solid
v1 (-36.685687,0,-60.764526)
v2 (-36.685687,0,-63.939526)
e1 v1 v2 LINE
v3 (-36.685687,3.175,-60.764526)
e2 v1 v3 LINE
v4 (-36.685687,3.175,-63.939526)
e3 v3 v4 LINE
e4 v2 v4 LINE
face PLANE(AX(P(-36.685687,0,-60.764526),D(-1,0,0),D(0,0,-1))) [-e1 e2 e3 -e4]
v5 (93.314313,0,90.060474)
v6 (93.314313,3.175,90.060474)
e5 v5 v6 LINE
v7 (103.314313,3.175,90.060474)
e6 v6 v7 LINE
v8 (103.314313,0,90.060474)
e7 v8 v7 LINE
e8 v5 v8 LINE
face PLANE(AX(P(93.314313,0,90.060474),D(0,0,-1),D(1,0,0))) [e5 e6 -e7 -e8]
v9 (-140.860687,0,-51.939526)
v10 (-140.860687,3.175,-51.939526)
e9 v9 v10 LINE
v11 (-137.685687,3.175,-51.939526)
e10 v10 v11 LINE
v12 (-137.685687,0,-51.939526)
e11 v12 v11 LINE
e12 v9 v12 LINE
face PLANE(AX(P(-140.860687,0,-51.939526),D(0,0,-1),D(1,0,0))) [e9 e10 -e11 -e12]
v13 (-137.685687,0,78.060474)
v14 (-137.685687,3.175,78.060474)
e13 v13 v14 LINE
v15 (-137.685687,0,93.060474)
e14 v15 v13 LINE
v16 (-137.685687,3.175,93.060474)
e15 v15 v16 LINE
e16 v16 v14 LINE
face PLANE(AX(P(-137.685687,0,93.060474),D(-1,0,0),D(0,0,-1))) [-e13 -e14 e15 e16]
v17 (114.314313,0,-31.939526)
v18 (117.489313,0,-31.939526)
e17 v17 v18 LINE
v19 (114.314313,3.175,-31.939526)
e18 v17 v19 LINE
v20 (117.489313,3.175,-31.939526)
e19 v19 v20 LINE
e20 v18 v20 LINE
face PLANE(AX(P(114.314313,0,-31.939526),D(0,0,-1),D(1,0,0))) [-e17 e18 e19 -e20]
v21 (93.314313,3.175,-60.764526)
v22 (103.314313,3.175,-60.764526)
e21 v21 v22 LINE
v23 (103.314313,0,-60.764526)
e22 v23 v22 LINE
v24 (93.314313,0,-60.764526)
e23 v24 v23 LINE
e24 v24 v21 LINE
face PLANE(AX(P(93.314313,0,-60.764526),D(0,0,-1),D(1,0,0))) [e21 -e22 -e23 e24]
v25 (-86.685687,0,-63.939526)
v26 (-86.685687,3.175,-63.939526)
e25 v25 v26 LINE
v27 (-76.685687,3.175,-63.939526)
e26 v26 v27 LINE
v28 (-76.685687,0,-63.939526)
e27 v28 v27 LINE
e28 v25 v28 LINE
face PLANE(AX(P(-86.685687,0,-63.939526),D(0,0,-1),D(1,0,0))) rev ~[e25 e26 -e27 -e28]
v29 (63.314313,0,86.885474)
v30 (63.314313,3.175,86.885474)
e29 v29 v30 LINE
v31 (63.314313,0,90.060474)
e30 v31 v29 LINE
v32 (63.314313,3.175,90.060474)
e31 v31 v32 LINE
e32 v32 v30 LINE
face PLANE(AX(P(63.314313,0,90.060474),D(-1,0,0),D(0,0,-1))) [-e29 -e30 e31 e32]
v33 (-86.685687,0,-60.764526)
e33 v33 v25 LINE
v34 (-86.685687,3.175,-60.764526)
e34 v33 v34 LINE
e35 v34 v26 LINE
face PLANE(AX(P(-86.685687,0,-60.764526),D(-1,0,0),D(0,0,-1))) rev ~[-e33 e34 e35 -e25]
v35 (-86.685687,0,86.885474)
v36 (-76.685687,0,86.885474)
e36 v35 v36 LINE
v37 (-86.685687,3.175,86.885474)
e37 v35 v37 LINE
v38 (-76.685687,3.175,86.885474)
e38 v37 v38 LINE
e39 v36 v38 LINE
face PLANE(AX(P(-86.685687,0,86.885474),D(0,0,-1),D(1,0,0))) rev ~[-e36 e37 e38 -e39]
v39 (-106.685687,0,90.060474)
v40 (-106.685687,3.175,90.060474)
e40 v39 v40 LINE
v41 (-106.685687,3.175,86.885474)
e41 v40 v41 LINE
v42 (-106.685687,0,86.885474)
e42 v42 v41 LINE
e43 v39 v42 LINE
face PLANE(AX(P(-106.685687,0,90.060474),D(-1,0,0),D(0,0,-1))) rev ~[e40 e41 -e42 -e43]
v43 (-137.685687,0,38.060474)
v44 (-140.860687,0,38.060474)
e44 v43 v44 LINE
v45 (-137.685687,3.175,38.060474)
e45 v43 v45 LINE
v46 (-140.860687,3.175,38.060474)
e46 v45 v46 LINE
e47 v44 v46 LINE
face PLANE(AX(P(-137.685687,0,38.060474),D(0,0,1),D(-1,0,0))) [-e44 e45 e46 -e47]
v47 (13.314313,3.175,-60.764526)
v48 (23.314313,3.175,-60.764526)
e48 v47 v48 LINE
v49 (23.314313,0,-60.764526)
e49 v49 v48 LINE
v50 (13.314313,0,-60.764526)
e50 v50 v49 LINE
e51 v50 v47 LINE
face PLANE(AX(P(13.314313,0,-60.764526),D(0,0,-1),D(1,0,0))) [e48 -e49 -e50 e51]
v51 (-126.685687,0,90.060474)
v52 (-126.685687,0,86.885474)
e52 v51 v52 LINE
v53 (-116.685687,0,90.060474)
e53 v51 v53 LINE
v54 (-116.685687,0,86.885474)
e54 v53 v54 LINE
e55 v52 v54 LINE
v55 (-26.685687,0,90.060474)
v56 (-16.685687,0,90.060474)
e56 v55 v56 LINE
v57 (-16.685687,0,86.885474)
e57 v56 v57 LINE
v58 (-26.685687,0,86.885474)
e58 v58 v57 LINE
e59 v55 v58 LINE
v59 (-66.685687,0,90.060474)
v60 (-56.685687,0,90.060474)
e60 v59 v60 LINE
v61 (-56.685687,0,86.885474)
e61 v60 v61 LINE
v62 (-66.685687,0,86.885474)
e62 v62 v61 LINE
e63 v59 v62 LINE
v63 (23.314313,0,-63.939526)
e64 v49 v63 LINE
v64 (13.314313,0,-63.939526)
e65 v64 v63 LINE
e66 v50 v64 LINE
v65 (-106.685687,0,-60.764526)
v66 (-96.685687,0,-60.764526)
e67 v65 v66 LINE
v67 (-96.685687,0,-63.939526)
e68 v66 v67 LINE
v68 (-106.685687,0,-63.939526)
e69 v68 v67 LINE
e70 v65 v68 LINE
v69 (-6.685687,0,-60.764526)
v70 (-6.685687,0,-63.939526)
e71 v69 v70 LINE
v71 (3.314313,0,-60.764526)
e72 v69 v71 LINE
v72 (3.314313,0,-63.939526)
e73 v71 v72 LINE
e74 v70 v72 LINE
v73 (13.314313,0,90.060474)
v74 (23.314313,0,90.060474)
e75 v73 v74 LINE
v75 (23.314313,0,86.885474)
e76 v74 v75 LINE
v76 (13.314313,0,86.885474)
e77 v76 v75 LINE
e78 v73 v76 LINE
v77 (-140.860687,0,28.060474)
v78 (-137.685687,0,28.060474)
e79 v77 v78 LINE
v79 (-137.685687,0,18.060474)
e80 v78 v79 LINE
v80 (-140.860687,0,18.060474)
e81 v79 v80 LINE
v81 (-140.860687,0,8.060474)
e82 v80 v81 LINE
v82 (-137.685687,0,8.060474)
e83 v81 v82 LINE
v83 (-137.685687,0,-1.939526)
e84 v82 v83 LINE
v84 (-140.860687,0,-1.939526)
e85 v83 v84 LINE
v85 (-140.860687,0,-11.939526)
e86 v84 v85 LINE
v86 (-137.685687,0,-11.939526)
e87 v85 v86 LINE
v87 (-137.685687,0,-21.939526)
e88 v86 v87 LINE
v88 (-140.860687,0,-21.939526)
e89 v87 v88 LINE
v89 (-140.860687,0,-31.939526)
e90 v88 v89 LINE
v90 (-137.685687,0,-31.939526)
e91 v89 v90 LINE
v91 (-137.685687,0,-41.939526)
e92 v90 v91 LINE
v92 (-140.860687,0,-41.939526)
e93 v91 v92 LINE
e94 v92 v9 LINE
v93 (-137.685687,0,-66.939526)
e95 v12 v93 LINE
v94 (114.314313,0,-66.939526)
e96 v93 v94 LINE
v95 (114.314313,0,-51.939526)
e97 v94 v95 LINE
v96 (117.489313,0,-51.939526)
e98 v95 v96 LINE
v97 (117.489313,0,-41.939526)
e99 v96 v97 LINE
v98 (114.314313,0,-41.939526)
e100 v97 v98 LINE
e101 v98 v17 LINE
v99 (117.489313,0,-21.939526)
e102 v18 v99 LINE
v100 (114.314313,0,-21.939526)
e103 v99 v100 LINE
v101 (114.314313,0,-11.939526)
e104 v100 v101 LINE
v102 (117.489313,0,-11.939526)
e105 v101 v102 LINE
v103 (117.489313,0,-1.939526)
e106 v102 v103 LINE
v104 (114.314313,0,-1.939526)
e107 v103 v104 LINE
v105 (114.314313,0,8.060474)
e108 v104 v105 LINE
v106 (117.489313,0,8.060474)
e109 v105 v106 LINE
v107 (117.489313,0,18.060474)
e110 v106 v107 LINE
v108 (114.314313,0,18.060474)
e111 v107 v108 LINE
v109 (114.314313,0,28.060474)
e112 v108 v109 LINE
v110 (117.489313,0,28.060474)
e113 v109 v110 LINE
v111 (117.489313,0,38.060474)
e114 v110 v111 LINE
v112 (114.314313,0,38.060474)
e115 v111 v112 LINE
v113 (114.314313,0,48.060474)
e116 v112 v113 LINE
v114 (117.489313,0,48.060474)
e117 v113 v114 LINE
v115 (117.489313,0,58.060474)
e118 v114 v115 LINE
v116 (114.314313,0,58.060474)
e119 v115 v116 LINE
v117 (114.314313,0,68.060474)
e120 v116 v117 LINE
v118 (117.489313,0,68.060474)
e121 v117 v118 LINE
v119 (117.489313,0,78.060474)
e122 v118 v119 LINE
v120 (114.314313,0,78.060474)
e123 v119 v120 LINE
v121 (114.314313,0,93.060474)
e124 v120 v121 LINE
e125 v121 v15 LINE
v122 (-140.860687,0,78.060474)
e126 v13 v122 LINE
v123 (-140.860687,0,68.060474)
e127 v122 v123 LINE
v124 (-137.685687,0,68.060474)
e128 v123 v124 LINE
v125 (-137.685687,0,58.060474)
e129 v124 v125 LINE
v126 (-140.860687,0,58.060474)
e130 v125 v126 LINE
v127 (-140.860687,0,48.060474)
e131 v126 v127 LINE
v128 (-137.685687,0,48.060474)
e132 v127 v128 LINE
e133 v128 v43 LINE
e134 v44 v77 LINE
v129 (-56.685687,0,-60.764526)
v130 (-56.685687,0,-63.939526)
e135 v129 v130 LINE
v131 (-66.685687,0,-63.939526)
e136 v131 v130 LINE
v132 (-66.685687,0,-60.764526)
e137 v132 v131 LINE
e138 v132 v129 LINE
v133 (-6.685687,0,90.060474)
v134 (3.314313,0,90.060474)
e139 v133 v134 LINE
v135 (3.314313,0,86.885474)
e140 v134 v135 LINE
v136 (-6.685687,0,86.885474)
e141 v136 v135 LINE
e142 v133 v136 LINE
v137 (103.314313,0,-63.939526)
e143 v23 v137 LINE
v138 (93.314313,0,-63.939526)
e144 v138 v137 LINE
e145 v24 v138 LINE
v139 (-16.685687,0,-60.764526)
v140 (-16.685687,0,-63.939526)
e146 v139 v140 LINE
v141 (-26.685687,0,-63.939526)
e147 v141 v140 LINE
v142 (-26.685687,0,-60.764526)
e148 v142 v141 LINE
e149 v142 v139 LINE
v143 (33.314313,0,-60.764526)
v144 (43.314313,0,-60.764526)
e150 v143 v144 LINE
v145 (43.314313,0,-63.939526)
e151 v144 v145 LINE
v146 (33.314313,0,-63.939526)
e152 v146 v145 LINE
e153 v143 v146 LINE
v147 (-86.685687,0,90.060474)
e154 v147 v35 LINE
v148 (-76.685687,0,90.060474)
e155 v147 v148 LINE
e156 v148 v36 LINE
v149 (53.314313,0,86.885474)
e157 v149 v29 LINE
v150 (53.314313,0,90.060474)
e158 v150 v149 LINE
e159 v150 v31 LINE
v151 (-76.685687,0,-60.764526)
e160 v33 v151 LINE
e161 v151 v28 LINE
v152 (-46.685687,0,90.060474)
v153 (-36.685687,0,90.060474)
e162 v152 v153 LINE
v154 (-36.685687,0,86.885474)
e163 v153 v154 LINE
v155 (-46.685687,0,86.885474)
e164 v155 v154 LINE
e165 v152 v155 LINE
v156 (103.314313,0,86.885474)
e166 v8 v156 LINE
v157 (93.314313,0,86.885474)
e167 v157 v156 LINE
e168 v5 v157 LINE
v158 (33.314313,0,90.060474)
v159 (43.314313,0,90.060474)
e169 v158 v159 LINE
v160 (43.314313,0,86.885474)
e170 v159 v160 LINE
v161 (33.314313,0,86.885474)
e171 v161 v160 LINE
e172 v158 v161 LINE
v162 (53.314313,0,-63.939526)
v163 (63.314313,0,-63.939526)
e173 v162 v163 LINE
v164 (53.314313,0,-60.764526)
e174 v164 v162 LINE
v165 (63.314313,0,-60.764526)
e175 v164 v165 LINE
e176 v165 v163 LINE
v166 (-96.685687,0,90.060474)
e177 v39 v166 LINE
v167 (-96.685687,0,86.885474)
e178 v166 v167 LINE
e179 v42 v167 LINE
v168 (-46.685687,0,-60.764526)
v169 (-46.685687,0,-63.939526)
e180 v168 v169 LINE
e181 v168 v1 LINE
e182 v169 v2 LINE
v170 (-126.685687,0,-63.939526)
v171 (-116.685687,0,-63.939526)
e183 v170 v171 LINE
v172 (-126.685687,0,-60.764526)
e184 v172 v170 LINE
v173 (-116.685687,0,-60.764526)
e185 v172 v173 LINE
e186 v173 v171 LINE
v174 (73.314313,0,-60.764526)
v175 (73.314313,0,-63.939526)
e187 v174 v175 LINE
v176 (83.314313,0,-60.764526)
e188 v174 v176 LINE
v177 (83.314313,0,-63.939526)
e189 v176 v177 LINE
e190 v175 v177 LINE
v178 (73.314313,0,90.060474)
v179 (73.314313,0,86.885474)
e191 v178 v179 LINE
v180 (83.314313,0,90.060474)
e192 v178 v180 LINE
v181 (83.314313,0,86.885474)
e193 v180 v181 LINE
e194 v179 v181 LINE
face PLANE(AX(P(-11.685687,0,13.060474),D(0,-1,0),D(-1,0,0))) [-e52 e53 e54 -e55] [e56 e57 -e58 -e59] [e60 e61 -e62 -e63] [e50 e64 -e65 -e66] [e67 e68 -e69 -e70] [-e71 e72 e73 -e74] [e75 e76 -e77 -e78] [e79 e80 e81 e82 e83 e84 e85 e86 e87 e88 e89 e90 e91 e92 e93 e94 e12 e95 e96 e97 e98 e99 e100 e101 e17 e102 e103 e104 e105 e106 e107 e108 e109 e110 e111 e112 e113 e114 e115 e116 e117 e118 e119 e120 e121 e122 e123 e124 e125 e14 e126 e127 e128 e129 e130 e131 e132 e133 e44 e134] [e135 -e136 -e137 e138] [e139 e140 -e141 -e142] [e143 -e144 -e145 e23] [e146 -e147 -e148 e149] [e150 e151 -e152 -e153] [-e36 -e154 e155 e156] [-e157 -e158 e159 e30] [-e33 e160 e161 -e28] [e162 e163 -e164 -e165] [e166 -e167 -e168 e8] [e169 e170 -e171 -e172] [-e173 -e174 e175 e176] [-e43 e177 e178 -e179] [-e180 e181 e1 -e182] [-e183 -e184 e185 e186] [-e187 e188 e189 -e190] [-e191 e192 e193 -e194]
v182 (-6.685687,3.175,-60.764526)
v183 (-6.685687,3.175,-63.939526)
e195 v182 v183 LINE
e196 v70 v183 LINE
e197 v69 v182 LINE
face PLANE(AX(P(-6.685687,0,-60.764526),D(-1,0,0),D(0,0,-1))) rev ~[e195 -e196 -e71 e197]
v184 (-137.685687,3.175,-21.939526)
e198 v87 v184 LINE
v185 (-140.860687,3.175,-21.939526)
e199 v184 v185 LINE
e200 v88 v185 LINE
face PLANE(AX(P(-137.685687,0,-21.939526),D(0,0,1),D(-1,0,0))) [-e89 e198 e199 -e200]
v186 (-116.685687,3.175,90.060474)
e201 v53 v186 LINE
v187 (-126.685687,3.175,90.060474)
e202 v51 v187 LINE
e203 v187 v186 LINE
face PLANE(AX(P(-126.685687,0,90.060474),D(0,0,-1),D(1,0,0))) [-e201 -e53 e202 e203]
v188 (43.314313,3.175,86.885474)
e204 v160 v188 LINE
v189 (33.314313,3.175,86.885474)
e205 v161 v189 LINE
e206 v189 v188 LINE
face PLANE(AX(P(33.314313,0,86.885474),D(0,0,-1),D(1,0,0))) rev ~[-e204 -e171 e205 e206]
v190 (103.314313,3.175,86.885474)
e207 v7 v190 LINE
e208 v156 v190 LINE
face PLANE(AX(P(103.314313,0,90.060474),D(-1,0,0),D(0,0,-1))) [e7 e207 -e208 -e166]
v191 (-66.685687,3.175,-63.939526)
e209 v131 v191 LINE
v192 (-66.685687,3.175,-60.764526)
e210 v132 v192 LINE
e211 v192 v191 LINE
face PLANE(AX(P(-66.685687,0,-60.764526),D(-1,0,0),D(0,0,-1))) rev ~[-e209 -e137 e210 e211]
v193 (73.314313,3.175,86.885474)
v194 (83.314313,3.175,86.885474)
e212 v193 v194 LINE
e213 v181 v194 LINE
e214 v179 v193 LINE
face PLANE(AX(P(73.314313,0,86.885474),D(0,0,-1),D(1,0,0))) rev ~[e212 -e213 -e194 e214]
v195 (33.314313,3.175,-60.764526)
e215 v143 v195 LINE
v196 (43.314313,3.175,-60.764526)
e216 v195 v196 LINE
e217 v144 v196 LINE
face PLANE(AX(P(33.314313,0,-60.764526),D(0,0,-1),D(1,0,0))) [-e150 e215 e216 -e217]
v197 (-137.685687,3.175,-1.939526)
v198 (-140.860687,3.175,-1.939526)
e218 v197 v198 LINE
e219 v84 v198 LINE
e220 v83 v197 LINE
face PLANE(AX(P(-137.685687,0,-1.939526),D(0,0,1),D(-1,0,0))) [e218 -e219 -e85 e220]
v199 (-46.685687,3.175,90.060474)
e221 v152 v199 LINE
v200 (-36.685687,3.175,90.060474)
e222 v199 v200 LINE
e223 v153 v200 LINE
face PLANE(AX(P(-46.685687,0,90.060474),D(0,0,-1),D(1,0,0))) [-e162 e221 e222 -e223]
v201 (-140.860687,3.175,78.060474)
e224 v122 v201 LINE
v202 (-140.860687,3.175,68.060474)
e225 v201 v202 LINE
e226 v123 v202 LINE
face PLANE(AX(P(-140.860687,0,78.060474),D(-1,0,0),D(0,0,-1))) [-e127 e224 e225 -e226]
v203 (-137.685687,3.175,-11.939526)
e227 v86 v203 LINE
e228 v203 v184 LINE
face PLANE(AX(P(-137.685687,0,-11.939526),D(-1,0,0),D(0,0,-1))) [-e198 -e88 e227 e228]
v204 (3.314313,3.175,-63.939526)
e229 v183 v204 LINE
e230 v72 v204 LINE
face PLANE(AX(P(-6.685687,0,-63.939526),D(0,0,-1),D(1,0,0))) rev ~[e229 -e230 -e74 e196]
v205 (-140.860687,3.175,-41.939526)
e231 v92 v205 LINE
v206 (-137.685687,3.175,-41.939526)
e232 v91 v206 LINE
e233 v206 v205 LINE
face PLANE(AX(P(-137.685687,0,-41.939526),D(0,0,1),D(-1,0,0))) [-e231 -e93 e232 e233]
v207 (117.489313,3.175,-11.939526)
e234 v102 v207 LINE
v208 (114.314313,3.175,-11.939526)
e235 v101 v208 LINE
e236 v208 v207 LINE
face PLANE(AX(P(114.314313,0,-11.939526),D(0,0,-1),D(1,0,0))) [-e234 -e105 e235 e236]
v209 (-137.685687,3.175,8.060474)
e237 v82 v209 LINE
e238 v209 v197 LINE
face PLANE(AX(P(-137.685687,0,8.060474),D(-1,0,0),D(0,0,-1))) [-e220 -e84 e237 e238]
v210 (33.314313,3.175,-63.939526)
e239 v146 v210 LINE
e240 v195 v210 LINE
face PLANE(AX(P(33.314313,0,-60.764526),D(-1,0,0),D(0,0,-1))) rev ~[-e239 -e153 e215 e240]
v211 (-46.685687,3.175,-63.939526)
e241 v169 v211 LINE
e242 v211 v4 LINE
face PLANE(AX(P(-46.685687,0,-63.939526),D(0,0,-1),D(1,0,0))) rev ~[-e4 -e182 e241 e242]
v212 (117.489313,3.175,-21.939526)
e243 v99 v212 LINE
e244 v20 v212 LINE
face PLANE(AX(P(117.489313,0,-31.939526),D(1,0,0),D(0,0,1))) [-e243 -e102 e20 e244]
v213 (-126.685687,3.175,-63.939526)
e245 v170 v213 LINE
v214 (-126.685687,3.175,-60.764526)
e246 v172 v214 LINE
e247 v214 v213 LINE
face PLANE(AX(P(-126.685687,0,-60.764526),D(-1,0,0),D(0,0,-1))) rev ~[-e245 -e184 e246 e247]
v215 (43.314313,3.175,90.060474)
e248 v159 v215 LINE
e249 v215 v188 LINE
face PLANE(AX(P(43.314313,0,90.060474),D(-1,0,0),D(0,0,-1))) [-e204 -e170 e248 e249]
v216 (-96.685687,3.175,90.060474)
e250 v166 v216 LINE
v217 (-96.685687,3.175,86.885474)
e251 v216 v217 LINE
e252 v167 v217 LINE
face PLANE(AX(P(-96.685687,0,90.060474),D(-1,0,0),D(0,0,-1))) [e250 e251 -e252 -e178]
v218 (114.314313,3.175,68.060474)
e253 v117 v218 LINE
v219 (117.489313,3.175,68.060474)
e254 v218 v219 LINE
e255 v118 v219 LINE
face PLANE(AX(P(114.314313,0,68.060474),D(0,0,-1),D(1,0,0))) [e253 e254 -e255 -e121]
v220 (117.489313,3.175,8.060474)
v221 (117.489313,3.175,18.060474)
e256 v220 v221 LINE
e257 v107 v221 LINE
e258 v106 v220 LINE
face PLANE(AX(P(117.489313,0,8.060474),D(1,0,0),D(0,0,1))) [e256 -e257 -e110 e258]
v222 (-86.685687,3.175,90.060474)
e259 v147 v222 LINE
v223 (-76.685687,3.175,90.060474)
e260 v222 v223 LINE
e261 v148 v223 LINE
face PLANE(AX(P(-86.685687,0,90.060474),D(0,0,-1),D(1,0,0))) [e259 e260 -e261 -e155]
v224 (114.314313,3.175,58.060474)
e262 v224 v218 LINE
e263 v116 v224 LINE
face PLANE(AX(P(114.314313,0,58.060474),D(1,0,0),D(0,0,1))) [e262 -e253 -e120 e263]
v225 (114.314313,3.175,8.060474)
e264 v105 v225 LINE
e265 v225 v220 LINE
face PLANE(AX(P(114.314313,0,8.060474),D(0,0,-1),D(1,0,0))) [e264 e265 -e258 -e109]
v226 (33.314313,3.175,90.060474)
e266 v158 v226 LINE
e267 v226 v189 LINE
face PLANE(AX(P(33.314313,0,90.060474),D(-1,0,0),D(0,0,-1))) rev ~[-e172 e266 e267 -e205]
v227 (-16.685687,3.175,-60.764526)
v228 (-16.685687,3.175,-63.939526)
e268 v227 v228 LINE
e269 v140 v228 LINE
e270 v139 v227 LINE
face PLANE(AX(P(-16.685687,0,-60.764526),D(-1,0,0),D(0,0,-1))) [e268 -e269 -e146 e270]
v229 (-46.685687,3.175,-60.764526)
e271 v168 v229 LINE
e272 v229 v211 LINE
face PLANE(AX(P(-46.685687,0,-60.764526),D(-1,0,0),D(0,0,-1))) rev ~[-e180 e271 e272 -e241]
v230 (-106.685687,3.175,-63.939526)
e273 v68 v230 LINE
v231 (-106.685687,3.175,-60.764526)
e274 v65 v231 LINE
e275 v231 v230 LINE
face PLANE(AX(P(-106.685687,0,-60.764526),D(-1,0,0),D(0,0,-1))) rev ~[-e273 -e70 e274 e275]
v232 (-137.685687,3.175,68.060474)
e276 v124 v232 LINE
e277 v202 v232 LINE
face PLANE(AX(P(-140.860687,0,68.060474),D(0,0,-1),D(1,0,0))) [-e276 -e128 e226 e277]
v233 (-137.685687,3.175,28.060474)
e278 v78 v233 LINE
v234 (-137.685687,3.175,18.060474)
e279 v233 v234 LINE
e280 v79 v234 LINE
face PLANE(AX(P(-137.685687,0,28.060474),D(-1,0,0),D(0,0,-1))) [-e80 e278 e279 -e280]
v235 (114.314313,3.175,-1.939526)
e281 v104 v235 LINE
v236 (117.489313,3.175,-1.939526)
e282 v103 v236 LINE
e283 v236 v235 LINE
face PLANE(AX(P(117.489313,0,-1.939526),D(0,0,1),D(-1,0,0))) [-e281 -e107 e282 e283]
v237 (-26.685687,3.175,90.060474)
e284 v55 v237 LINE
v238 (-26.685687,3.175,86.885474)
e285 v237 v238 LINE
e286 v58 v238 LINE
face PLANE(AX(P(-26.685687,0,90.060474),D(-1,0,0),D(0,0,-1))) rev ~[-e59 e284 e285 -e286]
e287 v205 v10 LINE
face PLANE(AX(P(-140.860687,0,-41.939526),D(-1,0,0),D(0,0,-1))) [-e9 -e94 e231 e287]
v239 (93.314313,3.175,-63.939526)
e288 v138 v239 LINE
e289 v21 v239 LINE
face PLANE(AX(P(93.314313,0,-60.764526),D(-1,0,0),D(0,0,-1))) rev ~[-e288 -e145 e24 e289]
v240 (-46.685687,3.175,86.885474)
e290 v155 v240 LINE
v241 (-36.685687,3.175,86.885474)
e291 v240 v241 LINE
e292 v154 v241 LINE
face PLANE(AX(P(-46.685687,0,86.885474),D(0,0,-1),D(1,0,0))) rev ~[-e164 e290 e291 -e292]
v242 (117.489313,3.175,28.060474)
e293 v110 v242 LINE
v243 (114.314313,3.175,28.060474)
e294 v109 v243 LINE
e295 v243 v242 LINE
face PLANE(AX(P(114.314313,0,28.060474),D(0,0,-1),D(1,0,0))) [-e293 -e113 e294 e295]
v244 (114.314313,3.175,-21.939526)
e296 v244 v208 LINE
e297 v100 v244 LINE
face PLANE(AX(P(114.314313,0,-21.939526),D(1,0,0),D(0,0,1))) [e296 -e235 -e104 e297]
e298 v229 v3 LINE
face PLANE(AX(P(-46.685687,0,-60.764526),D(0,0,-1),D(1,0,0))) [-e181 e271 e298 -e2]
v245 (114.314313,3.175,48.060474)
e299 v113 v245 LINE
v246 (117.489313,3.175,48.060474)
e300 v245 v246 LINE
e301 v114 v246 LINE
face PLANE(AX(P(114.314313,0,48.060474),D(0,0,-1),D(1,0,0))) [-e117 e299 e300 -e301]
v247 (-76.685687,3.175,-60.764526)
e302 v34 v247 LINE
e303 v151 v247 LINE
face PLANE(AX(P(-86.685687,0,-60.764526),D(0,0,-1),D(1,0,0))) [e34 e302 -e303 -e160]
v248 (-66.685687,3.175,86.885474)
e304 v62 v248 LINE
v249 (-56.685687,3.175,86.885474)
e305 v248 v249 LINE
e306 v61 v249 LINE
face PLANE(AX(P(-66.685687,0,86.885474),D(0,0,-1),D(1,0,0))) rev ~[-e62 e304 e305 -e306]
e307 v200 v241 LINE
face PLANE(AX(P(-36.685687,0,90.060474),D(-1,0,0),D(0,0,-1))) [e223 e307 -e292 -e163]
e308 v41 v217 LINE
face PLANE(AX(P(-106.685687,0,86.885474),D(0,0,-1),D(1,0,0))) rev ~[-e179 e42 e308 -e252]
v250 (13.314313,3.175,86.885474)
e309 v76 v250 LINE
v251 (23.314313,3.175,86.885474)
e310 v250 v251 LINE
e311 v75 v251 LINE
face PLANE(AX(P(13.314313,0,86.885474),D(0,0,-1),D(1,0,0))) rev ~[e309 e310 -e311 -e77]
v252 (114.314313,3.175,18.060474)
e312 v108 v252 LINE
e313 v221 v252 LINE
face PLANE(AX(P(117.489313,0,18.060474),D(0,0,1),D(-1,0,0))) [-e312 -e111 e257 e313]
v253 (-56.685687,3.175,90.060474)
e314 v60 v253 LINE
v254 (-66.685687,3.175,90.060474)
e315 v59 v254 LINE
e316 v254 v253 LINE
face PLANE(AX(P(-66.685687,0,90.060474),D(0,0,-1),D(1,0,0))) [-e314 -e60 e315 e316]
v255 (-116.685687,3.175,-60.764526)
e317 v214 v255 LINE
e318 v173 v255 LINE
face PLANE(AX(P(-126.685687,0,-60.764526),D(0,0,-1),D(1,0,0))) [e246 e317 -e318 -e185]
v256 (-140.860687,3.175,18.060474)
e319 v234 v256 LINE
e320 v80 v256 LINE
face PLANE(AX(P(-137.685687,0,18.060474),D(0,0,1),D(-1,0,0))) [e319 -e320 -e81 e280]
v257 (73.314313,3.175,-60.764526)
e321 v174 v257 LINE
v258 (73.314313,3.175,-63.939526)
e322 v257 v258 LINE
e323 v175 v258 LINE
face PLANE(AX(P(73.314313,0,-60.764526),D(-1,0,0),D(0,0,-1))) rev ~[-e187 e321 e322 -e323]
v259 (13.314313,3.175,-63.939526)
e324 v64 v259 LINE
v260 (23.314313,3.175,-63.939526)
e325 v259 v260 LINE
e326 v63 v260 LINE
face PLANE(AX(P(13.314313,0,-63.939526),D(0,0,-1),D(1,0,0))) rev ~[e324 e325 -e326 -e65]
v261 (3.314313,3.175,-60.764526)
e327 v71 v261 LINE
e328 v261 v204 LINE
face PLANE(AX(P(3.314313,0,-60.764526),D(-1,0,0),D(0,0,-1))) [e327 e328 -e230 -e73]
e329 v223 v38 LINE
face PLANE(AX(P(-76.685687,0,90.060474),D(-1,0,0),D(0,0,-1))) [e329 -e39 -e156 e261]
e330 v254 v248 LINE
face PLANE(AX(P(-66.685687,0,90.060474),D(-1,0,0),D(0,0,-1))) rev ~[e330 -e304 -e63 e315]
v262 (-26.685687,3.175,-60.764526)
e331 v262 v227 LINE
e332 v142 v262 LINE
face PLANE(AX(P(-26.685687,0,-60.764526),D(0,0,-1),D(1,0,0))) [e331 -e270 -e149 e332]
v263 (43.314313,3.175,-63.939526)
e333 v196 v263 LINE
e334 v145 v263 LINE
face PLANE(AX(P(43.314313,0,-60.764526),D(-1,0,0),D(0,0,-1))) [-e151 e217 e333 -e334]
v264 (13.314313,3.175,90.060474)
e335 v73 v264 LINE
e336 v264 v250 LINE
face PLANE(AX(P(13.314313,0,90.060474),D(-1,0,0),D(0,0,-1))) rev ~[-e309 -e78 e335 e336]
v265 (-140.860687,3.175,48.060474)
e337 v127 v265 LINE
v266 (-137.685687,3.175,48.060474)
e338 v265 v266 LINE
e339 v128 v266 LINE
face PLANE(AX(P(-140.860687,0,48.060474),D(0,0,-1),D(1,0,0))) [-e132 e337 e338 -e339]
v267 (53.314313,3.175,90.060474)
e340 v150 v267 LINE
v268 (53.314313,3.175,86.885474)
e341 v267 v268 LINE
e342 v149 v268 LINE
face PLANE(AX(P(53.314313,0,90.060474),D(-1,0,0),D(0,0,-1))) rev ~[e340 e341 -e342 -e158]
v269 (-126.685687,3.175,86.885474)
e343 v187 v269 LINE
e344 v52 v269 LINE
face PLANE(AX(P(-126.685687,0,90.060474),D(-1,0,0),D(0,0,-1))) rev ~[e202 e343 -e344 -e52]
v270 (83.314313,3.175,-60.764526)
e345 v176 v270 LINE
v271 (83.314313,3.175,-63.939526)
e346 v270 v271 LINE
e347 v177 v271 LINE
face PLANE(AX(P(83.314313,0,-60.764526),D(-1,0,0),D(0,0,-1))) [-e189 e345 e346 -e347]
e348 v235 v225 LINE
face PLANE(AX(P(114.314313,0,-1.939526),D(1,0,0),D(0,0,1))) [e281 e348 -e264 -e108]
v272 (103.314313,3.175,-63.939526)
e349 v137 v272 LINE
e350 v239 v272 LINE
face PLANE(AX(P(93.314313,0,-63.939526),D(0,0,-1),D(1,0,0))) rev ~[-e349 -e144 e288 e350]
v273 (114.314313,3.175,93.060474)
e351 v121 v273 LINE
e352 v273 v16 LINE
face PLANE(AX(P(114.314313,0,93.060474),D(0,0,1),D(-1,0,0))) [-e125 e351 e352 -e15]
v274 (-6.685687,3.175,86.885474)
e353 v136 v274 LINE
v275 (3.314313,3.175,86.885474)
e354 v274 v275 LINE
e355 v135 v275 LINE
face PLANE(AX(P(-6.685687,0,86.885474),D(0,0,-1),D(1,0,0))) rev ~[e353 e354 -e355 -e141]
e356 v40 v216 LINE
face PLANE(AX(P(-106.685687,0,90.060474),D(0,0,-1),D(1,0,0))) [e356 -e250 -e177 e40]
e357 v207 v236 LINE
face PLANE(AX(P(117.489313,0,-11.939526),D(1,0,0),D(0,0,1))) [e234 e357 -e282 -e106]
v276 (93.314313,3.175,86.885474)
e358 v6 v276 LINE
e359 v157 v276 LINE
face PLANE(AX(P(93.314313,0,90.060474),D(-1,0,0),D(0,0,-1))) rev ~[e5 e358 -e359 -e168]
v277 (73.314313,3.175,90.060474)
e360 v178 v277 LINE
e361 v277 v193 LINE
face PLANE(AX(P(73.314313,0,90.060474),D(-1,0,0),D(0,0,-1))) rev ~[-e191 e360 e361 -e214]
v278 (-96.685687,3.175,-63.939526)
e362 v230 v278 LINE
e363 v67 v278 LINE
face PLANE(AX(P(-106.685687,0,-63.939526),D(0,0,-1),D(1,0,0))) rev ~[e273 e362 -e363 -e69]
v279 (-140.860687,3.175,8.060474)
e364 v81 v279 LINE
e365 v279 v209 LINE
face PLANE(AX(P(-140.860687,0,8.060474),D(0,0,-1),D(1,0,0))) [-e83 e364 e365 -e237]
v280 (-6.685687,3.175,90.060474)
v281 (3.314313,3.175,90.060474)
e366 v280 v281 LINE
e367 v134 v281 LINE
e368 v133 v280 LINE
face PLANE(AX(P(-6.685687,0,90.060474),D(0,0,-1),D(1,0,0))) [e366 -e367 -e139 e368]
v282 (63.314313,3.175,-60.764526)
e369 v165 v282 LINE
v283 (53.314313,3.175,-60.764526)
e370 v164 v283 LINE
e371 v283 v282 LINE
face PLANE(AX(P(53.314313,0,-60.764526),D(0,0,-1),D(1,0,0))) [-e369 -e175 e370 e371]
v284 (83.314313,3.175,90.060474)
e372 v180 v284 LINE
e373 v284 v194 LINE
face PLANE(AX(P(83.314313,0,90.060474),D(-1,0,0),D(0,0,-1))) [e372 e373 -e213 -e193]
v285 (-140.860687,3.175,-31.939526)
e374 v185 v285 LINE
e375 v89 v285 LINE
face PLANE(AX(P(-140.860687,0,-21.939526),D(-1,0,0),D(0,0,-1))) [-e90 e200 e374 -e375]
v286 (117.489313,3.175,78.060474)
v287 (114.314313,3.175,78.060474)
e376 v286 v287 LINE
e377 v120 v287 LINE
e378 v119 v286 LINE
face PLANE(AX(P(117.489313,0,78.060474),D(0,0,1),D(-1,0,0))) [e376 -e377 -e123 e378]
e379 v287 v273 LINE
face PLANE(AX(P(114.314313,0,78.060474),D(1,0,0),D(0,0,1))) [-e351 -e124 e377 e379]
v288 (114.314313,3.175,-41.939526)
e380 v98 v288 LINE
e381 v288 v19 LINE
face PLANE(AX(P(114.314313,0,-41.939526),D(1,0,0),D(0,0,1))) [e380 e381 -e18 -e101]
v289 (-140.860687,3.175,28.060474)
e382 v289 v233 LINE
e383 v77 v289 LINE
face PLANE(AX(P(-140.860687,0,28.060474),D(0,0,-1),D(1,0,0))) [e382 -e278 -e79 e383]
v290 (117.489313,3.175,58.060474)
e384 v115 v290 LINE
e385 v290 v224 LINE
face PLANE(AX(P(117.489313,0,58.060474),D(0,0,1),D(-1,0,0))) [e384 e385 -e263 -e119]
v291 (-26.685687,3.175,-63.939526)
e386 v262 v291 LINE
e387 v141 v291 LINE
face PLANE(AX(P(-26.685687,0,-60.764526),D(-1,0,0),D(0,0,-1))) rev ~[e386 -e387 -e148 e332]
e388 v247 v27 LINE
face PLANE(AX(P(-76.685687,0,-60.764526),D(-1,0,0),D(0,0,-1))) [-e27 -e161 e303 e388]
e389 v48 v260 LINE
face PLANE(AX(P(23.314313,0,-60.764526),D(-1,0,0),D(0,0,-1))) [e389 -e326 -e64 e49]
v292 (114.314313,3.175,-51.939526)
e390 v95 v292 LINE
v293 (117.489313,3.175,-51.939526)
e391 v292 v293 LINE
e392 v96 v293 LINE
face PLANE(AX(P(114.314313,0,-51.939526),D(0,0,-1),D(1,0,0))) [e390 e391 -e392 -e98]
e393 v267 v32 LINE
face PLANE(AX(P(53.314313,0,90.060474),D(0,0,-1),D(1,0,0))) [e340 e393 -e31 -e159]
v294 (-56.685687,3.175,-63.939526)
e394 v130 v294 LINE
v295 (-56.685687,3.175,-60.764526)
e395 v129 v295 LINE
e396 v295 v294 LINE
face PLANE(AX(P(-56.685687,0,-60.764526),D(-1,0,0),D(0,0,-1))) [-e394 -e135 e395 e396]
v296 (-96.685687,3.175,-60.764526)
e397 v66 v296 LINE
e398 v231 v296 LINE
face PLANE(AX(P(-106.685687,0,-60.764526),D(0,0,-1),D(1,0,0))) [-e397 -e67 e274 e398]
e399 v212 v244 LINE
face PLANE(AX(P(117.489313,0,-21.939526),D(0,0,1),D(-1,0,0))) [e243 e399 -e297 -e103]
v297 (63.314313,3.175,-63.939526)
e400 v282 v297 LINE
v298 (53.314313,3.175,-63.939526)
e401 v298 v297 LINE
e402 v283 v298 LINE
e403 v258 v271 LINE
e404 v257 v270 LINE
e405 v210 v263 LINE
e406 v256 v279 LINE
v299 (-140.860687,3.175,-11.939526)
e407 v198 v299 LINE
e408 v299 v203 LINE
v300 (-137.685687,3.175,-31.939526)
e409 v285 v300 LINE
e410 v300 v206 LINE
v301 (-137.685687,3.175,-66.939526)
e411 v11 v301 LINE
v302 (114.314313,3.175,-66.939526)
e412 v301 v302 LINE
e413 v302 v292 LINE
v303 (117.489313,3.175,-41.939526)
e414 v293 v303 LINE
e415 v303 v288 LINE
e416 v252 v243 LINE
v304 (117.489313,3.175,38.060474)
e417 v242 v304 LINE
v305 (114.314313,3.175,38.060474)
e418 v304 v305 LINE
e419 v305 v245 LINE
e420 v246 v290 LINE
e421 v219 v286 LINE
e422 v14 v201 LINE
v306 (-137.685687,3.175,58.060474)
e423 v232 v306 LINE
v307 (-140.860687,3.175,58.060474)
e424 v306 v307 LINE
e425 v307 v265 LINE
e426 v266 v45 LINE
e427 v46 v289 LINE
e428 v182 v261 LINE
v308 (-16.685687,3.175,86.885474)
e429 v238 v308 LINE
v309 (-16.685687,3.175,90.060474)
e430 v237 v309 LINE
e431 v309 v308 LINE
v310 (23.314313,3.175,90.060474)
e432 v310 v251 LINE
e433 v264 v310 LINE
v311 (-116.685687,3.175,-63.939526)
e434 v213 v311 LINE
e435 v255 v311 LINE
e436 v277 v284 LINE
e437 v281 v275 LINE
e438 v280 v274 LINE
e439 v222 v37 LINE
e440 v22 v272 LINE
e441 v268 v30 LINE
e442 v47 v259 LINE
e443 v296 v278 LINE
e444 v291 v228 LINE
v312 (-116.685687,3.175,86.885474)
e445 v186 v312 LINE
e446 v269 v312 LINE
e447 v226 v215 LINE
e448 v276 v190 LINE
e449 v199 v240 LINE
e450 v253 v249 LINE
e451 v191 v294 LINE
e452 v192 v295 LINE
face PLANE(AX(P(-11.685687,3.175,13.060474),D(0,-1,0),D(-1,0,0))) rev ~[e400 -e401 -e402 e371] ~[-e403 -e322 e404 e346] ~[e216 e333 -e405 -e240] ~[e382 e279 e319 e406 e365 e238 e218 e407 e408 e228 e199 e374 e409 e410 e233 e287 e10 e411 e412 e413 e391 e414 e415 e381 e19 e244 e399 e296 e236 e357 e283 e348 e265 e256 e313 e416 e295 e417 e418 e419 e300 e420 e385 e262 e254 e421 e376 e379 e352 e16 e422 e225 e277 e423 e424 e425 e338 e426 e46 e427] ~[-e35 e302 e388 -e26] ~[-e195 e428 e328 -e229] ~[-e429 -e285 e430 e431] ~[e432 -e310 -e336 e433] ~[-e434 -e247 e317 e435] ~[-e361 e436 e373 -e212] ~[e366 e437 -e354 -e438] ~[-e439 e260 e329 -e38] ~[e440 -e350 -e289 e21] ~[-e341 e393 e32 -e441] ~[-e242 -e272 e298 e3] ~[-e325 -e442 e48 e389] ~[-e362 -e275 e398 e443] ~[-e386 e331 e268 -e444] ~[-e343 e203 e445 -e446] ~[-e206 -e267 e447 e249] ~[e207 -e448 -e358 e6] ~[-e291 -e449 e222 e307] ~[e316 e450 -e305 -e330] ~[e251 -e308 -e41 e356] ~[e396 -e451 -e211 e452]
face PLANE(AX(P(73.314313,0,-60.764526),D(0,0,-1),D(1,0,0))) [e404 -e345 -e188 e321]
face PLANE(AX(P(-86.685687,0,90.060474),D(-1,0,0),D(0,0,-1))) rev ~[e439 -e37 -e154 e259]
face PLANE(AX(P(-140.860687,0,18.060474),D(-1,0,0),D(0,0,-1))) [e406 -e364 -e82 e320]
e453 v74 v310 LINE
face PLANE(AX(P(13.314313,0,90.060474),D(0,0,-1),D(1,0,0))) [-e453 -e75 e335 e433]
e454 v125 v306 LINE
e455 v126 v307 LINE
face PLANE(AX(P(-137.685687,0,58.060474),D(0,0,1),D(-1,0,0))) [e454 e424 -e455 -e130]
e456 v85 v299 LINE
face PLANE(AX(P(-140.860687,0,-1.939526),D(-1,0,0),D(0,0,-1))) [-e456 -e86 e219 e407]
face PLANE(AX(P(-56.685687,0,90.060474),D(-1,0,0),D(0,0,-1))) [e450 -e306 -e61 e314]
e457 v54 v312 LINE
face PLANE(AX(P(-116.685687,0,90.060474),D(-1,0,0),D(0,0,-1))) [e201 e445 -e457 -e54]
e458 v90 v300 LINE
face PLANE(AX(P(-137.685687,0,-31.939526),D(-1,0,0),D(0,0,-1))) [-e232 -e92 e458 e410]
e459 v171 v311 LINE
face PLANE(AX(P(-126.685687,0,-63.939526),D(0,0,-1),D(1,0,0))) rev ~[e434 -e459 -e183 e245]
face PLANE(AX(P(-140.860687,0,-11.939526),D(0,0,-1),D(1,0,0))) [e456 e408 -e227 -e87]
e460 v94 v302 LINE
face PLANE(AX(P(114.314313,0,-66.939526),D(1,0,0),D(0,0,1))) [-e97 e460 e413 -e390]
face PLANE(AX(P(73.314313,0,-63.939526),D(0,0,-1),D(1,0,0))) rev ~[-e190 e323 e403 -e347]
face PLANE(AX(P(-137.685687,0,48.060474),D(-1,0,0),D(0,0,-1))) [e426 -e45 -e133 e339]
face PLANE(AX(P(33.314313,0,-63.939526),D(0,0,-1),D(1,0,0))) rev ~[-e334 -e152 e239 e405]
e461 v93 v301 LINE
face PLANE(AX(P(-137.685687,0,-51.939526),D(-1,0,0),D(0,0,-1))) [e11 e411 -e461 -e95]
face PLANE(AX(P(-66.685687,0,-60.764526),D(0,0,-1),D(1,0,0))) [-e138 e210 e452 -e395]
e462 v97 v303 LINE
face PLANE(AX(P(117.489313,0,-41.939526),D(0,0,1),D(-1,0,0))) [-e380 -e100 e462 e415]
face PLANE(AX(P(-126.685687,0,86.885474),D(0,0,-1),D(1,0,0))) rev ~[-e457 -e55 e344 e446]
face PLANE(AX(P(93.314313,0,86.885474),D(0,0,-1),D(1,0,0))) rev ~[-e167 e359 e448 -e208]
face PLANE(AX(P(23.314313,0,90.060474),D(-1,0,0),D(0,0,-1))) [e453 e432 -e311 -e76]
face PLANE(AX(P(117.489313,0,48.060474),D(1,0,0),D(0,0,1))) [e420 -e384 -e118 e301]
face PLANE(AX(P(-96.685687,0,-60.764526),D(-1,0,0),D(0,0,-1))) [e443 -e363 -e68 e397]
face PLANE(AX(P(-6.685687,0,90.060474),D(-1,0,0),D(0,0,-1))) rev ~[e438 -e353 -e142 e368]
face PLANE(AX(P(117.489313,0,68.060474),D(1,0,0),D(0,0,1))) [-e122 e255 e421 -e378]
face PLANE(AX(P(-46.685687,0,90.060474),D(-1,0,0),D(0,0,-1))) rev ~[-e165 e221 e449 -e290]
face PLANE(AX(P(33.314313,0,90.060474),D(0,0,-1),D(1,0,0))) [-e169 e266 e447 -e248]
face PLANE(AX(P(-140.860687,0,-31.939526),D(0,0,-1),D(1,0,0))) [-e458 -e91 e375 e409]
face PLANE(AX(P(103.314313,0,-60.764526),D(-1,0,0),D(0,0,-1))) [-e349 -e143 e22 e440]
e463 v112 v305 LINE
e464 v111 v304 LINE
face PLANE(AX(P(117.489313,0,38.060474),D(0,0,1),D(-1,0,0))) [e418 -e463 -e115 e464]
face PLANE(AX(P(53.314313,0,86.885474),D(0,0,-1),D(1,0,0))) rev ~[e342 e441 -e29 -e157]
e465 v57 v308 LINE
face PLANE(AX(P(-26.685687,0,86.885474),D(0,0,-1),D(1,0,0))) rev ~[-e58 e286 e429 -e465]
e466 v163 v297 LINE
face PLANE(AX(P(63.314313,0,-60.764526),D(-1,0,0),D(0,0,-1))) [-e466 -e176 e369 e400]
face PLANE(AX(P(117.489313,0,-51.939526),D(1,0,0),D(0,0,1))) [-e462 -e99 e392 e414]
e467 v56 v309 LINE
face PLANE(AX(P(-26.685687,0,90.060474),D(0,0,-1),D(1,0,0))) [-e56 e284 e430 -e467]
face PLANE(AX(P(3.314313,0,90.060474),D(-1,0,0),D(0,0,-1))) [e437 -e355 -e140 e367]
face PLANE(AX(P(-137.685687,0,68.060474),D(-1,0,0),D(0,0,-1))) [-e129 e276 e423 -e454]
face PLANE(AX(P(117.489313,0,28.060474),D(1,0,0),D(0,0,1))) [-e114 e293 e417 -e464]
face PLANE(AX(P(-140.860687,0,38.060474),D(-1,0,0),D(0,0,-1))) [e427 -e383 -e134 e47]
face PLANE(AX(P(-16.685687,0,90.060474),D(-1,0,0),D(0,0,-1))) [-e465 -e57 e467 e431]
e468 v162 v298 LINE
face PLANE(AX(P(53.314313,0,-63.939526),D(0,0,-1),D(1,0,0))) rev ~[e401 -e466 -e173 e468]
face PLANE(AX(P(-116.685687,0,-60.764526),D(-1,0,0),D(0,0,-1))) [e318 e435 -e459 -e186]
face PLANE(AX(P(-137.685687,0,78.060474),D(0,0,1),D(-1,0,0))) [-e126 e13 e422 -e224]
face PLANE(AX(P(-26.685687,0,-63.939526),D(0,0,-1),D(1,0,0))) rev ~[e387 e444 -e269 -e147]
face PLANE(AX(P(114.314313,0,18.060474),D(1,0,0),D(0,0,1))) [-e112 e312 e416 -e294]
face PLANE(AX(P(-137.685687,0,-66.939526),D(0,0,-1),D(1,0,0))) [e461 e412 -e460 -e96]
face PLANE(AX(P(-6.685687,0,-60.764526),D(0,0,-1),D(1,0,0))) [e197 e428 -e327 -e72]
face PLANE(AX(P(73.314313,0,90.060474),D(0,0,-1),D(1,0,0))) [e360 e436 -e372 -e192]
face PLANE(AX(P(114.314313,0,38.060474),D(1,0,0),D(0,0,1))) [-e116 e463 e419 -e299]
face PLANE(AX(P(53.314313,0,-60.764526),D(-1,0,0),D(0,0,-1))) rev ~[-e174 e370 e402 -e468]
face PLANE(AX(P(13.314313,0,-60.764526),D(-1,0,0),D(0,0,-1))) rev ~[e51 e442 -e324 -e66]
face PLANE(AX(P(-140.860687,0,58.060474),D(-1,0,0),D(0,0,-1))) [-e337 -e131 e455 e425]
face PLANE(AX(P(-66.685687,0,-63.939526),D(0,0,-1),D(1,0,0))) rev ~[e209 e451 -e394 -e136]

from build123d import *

# Parameters (mm, degrees)
SKETCH2_W           = 10
SKETCH2_H           = 3.175
BOSS_EXTRUDE1_DEPTH = 3.175


with BuildPart() as part:
    # Sketch2 → Boss-Extrude1 (new body)
    with BuildSketch(Plane(origin=(0, 0, 0), x_dir=(1, 0, 0), z_dir=(0, 1, 0))):
        Polygon((-137.685687371, 51.939525879), (-137.685687371, 66.939525879), (114.314312629, 66.939525879), (114.314312629, 51.939525879), (117.489312629, 51.939525879), (117.489312629, 41.939525879), (114.314312629, 41.939525879), (114.314312629, 31.939525879), (117.489312629, 31.939525879), (117.489312629, 21.939525879), (114.314312629, 21.939525879), (114.314312629, 11.939525879), (117.489312629, 11.939525879), (117.489312629, 1.939525879), (114.314312629, 1.939525879), (114.314312629, -8.060474121), (117.489312629, -8.060474121), (117.489312629, -18.060474121), (114.314312629, -18.060474121), (114.314312629, -28.060474121), (117.489312629, -28.060474121), (117.489312629, -38.060474121), (114.314312629, -38.060474121), (114.314312629, -48.060474121), (117.489312629, -48.060474121), (117.489312629, -58.060474121), (114.314312629, -58.060474121), (114.314312629, -68.060474121), (117.489312629, -68.060474121), (117.489312629, -78.060474121), (114.314312629, -78.060474121), (114.314312629, -93.060474121), (-137.685687371, -93.060474121), (-137.685687371, -78.060474121), (-140.860687371, -78.060474121), (-140.860687371, -68.060474121), (-137.685687371, -68.060474121), (-137.685687371, -58.060474121), (-140.860687371, -58.060474121), (-140.860687371, -48.060474121), (-137.685687371, -48.060474121), (-137.685687371, -38.060474121), (-140.860687371, -38.060474121), (-140.860687371, -28.060474121), (-137.685687371, -28.060474121), (-137.685687371, -18.060474121), (-140.860687371, -18.060474121), (-140.860687371, -8.060474121), (-137.685687371, -8.060474121), (-137.685687371, 1.939525879), (-140.860687371, 1.939525879), (-140.860687371, 11.939525879), (-137.685687371, 11.939525879), (-137.685687371, 21.939525879), (-140.860687371, 21.939525879), (-140.860687371, 31.939525879), (-137.685687371, 31.939525879), (-137.685687371, 41.939525879), (-140.860687371, 41.939525879), (-140.860687371, 51.939525879), align=None)
        with Locations((-101.685687371, 62.352025879)):
            Rectangle(SKETCH2_W, SKETCH2_H, mode=Mode.SUBTRACT)
        with Locations((-121.685687371, 62.352025879)):
            Rectangle(SKETCH2_W, SKETCH2_H, mode=Mode.SUBTRACT)
        with Locations((-81.685687371, 62.352025879)):
            Rectangle(SKETCH2_W, SKETCH2_H, mode=Mode.SUBTRACT)
        with Locations((-61.685687371, 62.352025879)):
            Rectangle(SKETCH2_W, SKETCH2_H, mode=Mode.SUBTRACT)
        with Locations((-41.685687371, 62.352025879)):
            Rectangle(SKETCH2_W, SKETCH2_H, mode=Mode.SUBTRACT)
        with Locations((-21.685687371, 62.352025879)):
            Rectangle(SKETCH2_W, SKETCH2_H, mode=Mode.SUBTRACT)
        with Locations((-1.685687371, 62.352025879)):
            Rectangle(SKETCH2_W, SKETCH2_H, mode=Mode.SUBTRACT)
        with Locations((18.314312629, 62.352025879)):
            Rectangle(SKETCH2_W, SKETCH2_H, mode=Mode.SUBTRACT)
        with Locations((38.314312629, 62.352025879)):
            Rectangle(SKETCH2_W, SKETCH2_H, mode=Mode.SUBTRACT)
        with Locations((58.314312629, 62.352025879)):
            Rectangle(SKETCH2_W, SKETCH2_H, mode=Mode.SUBTRACT)
        with Locations((78.314312629, 62.352025879)):
            Rectangle(SKETCH2_W, SKETCH2_H, mode=Mode.SUBTRACT)
        with Locations((98.314312629, 62.352025879)):
            Rectangle(SKETCH2_W, SKETCH2_H, mode=Mode.SUBTRACT)
        with Locations((98.314312629, -88.472974121)):
            Rectangle(SKETCH2_W, SKETCH2_H, mode=Mode.SUBTRACT)
        with Locations((78.314312629, -88.472974121)):
            Rectangle(SKETCH2_W, SKETCH2_H, mode=Mode.SUBTRACT)
        with Locations((58.314312629, -88.472974121)):
            Rectangle(SKETCH2_W, SKETCH2_H, mode=Mode.SUBTRACT)
        with Locations((38.314312629, -88.472974121)):
            Rectangle(SKETCH2_W, SKETCH2_H, mode=Mode.SUBTRACT)
        with Locations((18.314312629, -88.472974121)):
            Rectangle(SKETCH2_W, SKETCH2_H, mode=Mode.SUBTRACT)
        with Locations((-1.685687371, -88.472974121)):
            Rectangle(SKETCH2_W, SKETCH2_H, mode=Mode.SUBTRACT)
        with Locations((-21.685687371, -88.472974121)):
            Rectangle(SKETCH2_W, SKETCH2_H, mode=Mode.SUBTRACT)
        with Locations((-41.685687371, -88.472974121)):
            Rectangle(SKETCH2_W, SKETCH2_H, mode=Mode.SUBTRACT)
        with Locations((-61.685687371, -88.472974121)):
            Rectangle(SKETCH2_W, SKETCH2_H, mode=Mode.SUBTRACT)
        with Locations((-81.685687371, -88.472974121)):
            Rectangle(SKETCH2_W, SKETCH2_H, mode=Mode.SUBTRACT)
        with Locations((-101.685687371, -88.472974121)):
            Rectangle(SKETCH2_W, SKETCH2_H, mode=Mode.SUBTRACT)
        with Locations((-121.685687371, -88.472974121)):
            Rectangle(SKETCH2_W, SKETCH2_H, mode=Mode.SUBTRACT)
    extrude(amount=BOSS_EXTRUDE1_DEPTH)


solid = part.part
